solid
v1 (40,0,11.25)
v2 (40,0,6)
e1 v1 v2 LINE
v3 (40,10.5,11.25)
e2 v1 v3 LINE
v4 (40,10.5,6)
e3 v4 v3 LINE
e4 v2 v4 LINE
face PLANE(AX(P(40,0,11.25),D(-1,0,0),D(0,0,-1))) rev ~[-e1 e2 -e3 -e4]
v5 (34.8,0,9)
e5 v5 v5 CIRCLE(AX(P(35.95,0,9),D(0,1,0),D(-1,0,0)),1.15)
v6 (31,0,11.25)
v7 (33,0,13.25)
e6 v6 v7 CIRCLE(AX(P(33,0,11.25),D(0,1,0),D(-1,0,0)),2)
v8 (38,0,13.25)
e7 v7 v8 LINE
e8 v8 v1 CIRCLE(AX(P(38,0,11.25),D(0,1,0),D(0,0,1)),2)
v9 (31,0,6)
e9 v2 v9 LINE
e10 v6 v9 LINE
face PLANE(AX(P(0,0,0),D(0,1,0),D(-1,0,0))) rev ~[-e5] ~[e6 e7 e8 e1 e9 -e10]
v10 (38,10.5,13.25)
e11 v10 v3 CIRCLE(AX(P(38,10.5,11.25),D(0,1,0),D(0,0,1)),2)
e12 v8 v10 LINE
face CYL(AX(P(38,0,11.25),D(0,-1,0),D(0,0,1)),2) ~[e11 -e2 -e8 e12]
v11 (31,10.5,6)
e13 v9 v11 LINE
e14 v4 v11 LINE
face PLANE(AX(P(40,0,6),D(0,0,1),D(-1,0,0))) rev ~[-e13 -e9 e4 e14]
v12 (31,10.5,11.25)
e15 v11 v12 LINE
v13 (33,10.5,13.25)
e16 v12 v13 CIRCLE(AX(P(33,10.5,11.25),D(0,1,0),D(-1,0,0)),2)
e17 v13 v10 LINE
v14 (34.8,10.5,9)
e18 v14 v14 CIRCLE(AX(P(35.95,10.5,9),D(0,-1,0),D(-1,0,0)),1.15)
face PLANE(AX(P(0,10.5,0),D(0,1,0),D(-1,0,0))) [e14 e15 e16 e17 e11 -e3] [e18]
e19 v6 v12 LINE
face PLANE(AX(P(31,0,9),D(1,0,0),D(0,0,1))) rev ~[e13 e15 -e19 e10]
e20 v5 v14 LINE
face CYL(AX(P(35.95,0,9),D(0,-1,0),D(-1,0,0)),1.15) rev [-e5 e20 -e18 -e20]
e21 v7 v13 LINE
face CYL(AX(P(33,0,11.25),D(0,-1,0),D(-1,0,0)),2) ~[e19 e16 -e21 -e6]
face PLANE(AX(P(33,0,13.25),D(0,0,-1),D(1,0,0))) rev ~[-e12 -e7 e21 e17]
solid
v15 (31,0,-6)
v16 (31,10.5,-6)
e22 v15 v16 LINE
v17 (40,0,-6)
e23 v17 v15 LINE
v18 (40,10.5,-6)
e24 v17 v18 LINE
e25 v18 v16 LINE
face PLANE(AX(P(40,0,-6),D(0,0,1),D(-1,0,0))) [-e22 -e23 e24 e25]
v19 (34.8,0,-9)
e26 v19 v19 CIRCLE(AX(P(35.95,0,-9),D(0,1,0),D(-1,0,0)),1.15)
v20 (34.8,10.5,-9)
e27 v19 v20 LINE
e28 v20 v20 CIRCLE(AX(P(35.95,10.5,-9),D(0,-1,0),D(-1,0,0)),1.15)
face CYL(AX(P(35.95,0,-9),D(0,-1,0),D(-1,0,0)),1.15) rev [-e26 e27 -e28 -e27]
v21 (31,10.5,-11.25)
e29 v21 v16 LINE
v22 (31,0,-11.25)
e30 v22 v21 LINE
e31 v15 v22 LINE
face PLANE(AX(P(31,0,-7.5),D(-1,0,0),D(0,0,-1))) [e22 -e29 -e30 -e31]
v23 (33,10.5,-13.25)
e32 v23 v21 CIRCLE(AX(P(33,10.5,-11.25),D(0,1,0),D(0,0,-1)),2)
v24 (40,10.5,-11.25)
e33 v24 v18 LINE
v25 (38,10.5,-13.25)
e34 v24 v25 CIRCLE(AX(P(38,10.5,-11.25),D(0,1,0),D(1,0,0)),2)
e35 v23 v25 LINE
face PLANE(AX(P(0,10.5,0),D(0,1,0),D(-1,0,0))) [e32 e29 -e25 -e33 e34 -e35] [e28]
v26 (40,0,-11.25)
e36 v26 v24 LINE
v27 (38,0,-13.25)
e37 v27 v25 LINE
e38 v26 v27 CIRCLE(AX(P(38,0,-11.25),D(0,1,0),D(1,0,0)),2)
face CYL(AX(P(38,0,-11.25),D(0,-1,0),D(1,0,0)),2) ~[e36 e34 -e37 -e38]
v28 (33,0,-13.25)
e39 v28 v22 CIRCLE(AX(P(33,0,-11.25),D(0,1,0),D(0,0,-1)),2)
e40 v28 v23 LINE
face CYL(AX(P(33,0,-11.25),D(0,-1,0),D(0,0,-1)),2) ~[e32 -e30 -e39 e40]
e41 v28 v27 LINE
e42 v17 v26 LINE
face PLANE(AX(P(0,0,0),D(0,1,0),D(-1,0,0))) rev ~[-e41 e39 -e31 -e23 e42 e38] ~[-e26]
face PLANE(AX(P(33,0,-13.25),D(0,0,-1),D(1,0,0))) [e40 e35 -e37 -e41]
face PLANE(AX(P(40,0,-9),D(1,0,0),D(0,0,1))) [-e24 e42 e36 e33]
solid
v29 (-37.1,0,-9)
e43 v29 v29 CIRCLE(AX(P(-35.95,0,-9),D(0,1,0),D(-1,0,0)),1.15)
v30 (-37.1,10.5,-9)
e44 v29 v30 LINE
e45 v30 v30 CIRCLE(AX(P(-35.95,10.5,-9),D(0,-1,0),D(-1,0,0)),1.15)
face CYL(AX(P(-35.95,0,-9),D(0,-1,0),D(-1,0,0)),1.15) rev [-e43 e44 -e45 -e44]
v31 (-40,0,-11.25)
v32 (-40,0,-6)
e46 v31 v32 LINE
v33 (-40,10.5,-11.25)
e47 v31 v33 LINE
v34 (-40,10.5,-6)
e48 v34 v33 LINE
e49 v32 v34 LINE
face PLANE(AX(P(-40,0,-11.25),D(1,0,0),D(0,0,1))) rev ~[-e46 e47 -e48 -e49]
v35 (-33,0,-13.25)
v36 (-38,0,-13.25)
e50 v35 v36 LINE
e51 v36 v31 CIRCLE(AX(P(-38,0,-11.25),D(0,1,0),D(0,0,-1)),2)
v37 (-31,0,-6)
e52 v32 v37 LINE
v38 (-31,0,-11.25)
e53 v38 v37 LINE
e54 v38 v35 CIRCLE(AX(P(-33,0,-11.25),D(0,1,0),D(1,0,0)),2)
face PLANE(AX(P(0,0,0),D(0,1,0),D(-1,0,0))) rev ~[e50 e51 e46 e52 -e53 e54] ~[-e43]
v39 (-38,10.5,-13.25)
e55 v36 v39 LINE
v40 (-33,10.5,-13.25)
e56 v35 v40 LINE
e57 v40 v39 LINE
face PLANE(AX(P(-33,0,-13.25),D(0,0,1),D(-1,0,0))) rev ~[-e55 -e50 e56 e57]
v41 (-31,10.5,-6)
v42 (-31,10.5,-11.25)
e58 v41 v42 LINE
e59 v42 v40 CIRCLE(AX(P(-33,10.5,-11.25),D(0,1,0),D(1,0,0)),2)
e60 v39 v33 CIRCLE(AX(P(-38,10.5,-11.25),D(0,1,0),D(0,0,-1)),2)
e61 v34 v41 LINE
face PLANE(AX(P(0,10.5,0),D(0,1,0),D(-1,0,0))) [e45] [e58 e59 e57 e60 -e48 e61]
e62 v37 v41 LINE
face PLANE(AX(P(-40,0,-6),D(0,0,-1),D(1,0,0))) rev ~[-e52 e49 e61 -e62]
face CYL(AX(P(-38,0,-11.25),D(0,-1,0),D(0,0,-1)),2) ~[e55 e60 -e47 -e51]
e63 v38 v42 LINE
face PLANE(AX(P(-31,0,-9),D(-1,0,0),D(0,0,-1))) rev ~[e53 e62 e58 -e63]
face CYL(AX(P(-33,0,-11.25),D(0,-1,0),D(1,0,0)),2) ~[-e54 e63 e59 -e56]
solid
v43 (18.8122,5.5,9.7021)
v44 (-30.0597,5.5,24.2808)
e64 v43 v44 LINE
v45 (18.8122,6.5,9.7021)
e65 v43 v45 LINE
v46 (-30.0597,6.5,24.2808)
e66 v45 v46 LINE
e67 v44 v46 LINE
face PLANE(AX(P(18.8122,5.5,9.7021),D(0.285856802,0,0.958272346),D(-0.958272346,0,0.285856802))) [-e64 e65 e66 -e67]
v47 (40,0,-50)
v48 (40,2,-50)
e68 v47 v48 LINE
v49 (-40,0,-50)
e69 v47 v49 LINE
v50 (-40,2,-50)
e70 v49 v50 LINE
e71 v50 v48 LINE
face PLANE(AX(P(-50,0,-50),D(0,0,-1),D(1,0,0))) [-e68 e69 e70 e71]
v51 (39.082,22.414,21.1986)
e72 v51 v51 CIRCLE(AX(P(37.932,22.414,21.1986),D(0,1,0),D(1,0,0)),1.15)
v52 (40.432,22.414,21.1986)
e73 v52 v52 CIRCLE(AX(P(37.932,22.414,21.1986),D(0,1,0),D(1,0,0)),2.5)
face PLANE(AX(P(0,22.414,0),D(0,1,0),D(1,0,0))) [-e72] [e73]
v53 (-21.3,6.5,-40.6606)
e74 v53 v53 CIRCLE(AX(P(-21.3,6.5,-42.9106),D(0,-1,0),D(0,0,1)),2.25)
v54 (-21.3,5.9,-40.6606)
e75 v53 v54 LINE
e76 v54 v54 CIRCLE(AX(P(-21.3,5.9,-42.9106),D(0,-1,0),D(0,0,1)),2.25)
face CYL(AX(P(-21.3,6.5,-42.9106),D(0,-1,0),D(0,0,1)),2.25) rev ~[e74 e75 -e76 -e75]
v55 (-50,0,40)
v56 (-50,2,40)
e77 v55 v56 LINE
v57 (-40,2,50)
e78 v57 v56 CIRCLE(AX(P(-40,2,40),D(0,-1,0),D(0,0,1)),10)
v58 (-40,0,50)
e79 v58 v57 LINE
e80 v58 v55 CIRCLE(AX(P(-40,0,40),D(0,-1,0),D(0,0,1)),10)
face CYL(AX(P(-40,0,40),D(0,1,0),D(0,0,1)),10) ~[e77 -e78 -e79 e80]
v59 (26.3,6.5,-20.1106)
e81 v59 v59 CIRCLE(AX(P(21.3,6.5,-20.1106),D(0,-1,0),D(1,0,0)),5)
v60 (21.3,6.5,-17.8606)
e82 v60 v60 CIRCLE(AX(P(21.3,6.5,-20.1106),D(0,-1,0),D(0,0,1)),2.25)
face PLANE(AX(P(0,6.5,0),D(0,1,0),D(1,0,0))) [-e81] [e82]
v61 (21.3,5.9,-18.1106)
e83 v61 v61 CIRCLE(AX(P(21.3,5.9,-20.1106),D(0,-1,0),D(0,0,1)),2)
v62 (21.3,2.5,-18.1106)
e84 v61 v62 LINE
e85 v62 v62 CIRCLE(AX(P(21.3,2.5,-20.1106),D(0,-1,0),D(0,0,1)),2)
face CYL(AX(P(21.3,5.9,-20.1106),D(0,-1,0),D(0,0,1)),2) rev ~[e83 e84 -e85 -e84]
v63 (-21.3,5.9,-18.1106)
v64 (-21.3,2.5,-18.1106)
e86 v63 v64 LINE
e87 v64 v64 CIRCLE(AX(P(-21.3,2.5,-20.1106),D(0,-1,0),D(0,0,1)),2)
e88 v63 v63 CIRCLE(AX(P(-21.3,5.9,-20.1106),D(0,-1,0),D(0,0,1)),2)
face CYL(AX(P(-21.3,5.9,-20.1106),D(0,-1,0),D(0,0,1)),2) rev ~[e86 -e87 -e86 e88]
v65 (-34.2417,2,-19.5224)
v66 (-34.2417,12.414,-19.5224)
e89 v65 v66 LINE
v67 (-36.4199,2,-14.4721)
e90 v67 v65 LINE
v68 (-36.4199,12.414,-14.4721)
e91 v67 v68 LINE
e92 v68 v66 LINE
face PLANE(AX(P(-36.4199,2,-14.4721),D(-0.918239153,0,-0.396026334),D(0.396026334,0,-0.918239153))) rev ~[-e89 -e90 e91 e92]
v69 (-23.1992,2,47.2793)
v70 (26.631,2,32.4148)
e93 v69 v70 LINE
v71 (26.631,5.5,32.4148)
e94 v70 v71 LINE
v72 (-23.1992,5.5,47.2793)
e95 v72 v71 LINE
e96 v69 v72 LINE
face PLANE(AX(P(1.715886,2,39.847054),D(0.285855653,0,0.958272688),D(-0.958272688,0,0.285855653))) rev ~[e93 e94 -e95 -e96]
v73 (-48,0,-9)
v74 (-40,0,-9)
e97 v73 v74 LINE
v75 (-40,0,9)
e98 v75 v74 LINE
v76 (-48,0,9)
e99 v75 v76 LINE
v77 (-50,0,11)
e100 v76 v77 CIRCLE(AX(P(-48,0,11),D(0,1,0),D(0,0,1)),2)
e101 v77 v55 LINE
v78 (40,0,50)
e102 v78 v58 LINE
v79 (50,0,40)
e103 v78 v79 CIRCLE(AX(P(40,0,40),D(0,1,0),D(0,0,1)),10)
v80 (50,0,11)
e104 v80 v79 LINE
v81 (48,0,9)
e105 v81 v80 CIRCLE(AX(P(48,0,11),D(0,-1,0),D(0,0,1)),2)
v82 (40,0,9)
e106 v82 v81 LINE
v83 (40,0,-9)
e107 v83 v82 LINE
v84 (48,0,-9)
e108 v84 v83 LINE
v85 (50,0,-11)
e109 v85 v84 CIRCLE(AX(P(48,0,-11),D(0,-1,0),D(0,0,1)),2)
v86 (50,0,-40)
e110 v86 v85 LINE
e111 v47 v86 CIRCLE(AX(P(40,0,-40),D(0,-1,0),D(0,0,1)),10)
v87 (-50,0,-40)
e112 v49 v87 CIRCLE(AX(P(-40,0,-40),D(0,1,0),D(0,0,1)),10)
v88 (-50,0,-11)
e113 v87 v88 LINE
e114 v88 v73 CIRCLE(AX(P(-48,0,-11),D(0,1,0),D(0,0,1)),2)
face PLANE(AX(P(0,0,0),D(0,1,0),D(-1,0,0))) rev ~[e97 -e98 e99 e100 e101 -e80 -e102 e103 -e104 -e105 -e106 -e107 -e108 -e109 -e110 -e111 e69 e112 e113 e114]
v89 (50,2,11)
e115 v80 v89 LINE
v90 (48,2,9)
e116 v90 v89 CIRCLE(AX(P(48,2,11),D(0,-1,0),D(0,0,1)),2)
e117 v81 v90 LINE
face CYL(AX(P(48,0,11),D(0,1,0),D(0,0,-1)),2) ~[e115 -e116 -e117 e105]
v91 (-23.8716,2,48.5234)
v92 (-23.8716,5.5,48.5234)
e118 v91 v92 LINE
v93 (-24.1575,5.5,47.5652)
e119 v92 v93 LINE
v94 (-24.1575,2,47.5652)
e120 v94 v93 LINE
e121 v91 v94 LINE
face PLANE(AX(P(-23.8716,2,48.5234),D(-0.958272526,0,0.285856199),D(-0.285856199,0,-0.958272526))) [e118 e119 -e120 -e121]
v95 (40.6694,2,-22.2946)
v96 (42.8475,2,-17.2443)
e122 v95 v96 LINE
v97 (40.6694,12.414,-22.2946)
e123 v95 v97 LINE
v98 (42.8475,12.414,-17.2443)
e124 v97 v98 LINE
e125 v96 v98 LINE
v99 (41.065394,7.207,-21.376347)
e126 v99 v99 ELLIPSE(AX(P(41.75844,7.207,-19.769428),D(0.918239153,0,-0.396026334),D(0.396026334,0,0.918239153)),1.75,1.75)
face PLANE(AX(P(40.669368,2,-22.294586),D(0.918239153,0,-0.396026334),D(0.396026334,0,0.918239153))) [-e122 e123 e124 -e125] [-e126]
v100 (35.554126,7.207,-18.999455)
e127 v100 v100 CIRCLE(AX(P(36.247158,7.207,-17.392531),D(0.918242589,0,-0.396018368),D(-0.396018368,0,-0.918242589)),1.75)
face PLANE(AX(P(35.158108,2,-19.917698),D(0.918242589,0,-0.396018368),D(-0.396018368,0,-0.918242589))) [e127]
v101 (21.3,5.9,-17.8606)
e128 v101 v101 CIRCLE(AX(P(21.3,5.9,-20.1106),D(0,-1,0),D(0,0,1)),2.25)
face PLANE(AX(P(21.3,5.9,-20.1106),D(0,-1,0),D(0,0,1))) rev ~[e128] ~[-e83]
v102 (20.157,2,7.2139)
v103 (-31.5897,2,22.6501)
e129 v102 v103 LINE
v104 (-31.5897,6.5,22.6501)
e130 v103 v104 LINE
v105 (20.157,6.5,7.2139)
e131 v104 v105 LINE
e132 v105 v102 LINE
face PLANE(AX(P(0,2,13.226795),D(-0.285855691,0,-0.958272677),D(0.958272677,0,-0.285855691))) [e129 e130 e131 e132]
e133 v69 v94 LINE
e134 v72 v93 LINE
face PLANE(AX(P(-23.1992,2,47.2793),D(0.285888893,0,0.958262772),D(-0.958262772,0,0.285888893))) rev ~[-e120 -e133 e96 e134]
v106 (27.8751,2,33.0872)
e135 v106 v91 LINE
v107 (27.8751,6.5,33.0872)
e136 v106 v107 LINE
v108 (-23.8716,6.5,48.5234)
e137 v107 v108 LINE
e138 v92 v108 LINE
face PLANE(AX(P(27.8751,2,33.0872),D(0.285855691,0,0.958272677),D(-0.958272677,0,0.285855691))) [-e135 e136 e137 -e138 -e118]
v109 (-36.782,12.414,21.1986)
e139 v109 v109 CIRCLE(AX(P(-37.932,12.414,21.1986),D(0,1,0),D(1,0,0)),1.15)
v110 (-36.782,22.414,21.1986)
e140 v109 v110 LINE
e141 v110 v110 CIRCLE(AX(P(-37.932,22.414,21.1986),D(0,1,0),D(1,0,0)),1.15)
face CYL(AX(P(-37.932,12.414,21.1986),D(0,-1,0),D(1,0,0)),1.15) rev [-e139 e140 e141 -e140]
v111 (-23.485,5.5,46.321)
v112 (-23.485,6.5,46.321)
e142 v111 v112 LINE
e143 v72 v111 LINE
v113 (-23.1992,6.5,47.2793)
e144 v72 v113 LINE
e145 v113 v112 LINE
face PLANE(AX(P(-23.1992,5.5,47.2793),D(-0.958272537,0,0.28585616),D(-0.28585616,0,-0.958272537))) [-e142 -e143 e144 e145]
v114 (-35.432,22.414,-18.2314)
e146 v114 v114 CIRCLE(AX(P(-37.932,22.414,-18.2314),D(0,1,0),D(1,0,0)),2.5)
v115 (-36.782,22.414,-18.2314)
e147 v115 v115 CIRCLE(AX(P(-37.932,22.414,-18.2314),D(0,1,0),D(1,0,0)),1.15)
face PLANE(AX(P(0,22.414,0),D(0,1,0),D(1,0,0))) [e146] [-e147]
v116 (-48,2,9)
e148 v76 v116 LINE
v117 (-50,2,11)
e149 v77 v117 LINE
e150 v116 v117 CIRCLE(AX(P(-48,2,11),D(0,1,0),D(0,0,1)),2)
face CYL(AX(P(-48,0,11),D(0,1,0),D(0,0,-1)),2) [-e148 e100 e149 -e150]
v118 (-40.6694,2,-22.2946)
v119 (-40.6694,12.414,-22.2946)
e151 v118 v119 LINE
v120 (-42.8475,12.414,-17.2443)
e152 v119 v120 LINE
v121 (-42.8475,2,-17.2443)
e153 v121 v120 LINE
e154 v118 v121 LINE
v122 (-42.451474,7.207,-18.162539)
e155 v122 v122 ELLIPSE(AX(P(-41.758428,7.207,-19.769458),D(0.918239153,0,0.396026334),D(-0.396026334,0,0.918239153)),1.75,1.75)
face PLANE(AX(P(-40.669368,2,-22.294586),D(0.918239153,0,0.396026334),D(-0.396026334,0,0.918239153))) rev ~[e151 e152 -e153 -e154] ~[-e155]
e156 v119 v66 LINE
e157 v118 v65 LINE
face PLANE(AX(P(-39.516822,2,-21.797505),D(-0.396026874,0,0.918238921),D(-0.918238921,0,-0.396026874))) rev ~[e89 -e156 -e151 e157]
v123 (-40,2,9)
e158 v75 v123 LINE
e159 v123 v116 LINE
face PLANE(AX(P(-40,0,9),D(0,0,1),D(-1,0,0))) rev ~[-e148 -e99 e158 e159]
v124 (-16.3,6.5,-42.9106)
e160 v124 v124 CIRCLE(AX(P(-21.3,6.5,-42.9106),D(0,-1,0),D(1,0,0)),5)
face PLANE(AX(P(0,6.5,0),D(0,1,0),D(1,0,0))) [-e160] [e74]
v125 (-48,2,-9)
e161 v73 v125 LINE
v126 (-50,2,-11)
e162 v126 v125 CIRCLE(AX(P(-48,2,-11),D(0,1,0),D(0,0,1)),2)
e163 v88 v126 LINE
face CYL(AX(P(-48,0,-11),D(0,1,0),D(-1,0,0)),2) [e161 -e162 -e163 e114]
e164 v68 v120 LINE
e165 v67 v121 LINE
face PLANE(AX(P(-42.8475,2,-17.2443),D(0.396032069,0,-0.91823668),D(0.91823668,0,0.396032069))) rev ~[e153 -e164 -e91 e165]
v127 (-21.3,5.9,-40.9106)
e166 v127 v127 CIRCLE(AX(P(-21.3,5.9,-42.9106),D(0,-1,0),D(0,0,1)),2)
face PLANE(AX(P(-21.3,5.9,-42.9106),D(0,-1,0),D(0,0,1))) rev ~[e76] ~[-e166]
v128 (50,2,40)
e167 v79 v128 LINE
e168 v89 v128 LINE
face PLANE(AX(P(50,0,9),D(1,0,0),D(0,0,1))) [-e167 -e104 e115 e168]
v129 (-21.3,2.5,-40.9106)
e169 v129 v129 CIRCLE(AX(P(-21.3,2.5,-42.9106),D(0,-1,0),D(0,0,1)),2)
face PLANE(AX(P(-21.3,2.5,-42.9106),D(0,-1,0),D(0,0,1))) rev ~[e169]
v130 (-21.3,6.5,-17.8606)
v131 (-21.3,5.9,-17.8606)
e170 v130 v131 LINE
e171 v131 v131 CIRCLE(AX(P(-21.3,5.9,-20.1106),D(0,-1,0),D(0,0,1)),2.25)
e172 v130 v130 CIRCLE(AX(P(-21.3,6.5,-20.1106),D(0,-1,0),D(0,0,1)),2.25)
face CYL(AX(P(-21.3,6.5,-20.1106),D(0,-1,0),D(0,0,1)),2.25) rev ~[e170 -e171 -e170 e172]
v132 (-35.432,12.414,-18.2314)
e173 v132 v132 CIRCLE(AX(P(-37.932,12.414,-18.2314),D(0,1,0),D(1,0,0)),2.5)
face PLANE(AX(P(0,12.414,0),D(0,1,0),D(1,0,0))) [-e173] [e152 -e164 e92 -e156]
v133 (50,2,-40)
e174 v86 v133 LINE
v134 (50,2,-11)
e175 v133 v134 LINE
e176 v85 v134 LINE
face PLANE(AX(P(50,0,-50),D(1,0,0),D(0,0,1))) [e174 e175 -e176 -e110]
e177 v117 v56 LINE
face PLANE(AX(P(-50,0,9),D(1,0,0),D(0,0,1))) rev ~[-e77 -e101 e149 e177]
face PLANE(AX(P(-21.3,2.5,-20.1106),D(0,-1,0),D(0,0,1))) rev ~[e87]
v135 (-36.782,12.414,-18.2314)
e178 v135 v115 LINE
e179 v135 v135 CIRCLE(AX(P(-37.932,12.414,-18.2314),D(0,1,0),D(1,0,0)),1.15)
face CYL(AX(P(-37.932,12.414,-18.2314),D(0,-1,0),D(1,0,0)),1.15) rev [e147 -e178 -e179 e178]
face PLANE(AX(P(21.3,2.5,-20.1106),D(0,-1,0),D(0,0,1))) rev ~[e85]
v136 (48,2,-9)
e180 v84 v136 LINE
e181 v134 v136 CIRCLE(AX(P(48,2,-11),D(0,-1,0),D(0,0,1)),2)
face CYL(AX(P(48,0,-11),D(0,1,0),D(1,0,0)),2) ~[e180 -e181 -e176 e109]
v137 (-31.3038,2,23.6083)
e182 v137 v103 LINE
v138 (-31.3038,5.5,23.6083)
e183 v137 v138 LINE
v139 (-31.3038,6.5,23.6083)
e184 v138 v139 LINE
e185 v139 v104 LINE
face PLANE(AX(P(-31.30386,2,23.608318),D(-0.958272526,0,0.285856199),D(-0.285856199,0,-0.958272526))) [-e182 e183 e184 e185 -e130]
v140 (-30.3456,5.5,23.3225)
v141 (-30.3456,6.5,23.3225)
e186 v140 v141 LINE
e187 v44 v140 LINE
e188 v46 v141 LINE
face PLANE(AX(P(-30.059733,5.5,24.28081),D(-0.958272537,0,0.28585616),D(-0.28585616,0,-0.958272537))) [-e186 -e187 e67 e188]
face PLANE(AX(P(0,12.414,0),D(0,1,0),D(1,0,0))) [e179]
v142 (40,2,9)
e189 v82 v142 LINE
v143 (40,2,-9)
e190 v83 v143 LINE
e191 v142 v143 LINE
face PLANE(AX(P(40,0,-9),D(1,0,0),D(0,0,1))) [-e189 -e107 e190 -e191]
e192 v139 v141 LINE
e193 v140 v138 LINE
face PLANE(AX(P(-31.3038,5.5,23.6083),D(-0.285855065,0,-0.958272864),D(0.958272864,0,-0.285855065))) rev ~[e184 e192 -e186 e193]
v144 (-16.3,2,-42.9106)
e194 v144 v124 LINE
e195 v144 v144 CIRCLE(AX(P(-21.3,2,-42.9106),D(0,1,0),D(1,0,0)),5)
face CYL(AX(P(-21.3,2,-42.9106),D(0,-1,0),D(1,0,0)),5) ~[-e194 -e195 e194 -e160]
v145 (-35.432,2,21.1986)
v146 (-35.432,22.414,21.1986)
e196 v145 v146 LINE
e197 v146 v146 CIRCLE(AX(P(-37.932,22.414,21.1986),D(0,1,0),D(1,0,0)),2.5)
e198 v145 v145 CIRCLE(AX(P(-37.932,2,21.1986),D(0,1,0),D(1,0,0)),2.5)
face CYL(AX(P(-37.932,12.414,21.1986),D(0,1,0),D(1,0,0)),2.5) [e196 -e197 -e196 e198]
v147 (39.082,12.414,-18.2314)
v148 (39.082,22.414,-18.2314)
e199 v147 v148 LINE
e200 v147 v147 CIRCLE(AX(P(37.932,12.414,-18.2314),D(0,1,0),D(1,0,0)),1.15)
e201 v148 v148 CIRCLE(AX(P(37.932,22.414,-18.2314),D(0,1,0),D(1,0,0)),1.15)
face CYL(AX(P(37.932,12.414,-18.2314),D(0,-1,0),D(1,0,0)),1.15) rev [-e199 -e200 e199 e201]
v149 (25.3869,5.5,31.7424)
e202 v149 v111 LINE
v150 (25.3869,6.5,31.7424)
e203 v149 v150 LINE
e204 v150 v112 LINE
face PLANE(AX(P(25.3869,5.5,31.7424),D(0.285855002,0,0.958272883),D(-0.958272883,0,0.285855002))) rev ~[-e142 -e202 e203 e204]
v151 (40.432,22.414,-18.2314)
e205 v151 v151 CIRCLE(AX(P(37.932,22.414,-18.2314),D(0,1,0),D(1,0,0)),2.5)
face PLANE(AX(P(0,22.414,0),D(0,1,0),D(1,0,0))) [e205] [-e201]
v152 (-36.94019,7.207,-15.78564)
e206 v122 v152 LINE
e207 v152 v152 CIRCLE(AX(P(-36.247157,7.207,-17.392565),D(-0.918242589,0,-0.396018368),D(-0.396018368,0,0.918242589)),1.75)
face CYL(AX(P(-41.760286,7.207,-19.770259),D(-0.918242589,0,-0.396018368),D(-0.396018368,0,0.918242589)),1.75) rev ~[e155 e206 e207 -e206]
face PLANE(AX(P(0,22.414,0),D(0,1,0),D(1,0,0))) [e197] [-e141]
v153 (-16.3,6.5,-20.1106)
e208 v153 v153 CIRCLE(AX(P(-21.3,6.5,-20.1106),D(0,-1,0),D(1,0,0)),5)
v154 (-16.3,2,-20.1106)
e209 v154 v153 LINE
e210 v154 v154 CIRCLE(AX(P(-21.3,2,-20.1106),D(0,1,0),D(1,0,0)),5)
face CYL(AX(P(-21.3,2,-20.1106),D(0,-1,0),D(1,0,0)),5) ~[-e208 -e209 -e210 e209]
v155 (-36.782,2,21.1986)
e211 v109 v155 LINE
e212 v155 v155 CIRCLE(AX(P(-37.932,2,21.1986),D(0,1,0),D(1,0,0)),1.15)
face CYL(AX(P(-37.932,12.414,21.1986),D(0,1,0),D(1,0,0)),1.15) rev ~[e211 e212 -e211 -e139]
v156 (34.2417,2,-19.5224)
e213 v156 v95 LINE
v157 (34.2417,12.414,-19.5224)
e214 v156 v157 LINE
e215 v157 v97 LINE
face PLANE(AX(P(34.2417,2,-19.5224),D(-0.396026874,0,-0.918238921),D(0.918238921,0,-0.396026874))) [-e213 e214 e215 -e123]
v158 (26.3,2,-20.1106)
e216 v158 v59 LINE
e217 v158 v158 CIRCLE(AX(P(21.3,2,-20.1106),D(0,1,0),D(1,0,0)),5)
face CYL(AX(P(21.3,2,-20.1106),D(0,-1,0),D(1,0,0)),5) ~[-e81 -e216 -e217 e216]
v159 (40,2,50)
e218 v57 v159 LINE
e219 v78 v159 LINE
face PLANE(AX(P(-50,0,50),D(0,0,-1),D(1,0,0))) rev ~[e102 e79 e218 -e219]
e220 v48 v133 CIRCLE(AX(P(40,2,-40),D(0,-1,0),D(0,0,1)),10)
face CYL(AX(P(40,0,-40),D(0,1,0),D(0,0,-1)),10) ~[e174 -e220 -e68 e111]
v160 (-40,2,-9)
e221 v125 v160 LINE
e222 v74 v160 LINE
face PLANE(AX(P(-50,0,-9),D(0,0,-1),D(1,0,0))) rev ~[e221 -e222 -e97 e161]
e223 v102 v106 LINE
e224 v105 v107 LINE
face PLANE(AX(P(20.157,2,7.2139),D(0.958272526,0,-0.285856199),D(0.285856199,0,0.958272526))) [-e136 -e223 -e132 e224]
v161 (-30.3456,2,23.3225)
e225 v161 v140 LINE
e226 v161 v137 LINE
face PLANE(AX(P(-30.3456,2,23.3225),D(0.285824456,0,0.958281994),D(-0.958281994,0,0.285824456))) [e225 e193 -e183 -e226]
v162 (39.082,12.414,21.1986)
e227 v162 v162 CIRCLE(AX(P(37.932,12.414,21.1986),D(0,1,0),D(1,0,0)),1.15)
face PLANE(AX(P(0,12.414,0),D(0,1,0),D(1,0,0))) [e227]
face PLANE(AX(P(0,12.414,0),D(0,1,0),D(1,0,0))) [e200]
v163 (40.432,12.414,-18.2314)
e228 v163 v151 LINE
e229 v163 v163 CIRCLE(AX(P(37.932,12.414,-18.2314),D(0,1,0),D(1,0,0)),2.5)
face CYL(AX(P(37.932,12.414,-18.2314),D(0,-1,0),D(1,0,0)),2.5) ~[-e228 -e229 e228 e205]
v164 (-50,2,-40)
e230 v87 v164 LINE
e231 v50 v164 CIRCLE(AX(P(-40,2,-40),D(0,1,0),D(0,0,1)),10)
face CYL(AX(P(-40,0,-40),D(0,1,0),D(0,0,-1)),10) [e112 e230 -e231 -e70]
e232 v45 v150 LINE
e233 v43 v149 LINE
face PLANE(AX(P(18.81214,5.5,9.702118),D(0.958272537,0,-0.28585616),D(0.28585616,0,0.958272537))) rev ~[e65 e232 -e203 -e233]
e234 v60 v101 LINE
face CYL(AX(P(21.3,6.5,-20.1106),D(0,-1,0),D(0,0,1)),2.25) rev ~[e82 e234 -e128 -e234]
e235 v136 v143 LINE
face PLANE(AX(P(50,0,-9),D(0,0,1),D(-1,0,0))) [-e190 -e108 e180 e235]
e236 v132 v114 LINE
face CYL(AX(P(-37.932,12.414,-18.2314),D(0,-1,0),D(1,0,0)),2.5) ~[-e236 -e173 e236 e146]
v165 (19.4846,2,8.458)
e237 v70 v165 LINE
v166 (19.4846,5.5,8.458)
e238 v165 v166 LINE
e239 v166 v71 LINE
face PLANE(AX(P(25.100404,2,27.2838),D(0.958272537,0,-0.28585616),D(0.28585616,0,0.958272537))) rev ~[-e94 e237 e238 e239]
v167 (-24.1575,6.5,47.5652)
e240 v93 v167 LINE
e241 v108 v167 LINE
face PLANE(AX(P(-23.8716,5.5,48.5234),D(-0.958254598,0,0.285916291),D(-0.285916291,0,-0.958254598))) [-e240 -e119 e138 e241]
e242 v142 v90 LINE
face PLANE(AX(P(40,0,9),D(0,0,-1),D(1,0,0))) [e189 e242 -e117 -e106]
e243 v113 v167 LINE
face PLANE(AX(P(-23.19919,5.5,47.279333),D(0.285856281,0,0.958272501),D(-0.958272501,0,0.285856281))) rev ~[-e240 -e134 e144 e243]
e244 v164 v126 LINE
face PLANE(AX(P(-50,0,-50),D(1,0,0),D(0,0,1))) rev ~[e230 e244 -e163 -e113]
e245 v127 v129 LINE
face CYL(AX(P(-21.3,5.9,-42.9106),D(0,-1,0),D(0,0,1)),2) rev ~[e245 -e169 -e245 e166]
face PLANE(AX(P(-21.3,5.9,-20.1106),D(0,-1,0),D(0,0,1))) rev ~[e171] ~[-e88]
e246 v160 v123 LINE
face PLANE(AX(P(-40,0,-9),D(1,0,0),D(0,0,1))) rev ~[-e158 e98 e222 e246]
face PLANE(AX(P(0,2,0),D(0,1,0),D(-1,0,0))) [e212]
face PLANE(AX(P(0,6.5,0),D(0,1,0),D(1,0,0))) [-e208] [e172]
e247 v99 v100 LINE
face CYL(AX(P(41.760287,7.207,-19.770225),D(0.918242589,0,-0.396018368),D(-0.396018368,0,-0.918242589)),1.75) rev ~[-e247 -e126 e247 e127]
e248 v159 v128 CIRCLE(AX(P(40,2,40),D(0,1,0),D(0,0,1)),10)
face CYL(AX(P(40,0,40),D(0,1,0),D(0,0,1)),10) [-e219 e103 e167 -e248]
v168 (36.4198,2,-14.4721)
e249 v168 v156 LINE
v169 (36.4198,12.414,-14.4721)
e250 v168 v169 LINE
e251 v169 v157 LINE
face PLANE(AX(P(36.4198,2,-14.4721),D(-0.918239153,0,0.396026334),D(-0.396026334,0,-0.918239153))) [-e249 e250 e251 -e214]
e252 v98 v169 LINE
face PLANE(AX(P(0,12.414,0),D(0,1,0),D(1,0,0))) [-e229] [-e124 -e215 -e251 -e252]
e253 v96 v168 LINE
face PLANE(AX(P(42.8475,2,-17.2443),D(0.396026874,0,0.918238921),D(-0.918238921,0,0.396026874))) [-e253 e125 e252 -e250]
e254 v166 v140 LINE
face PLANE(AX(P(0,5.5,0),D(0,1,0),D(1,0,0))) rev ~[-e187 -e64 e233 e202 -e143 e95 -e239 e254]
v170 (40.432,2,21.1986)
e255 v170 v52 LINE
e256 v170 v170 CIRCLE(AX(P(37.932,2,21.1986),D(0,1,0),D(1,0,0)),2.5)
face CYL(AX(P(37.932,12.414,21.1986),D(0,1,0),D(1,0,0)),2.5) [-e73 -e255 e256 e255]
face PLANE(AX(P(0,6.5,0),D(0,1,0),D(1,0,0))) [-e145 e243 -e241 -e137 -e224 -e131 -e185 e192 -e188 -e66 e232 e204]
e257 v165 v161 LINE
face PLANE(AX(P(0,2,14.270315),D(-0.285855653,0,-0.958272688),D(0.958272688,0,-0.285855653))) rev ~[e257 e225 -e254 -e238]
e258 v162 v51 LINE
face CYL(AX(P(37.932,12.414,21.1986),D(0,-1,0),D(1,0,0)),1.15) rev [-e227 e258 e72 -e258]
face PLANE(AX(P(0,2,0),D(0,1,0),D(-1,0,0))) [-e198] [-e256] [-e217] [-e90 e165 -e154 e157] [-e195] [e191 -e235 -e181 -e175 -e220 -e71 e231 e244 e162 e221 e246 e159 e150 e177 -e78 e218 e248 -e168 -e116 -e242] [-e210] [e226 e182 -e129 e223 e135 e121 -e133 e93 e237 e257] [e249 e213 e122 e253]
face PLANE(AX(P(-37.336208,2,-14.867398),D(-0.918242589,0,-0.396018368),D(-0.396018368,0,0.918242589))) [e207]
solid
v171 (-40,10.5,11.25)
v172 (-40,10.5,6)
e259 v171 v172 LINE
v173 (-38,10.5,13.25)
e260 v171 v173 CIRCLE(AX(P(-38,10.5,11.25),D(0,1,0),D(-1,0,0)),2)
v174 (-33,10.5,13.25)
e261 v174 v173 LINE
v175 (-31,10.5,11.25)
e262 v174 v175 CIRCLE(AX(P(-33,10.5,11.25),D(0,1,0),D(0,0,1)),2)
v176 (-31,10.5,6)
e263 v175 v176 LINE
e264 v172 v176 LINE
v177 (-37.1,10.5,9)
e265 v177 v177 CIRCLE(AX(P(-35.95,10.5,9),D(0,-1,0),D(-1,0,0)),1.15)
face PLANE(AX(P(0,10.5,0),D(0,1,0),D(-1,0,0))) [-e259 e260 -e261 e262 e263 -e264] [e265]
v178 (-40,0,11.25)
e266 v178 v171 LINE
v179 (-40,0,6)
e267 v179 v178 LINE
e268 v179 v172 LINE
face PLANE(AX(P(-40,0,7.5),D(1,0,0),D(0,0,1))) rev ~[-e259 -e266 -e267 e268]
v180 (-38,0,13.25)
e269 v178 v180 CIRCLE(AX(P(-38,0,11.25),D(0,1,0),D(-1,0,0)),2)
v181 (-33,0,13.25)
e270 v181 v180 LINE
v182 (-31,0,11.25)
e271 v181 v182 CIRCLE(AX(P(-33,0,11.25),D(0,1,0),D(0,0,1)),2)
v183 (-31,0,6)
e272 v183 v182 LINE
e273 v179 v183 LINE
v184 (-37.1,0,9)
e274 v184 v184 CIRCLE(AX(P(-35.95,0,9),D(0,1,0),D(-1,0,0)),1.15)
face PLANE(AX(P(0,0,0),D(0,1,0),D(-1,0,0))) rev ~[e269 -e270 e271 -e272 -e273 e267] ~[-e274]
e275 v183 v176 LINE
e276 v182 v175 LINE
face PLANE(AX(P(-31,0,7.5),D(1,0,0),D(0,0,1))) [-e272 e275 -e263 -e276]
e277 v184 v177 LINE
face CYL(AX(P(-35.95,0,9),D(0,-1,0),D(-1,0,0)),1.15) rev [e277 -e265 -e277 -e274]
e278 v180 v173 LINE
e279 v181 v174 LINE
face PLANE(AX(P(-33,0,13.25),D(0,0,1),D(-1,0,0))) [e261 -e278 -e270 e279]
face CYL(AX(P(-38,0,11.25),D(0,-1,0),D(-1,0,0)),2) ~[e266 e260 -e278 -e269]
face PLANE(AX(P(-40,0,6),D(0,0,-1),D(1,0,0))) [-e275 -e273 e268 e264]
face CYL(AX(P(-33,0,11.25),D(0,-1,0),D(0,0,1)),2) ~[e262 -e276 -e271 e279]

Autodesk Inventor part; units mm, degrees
ref_plane "YZ Plane" through (0, 0, 0) normal (1, 0, 0) x (0, 1, 0)
ref_plane "XZ Plane" through (0, 0, 0) normal (0, 1, 0) x (-1, 0, 0)
ref_plane "XY Plane" through (0, 0, 0) normal (0, 0, 1) x (1, 0, 0)
sketch "Szkic2" plane through (0, 0, 0) normal (0, 1, 0) x (-1, 0, 0)
  line L0 (50, -50) -> (-50, -50)
  line L1 (50, -50) -> (50, 50)
  line L2 (0, -53.6442) -> (0, 78.3558)
  line L3 (50, 50) -> (-50, 50)
  line L4 (-50, -50) -> (-50, 50)
  line L5 (67.5466, 0) -> (-74.1589, 0)
  line L6 (50, -9) -> (40, -9)
  line L7 (40, -9) -> (40, 9)
  line L8 (40, 9) -> (50, 9)
  line L9 (50, 9) -> (50, -9)
  line L10 (-50, -9) -> (-40, -9)
  line L11 (-40, -9) -> (-40, 9)
  line L12 (-40, 9) -> (-50, 9)
  line L13 (-50, 9) -> (-50, -9)
  line L14 (40, -7.5) -> (31, -7.5)
  line L15 (31, -7.5) -> (31, 7.5)
  line L16 (31, 7.5) -> (40, 7.5)
  line L17 (40, 7.5) -> (40, -7.5)
  line L18 (-40, -7.5) -> (-28.5, -7.5)
  line L19 (-28.5, -7.5) -> (-28.5, 7.5)
  line L20 (-28.5, 7.5) -> (-40, 7.5)
  line L21 (-40, 7.5) -> (-40, -7.5)
  line L22 (31.5, 9) -> (-31.5, 9)
  line L23 (31, 7.5) -> (31, 9)
  line L24 (-28.5, 7.5) -> (-28.5, 9)
  line L25 (31.5, -9) -> (-31.5, -9)
  line L26 (-28.5, -7.5) -> (-28.5, -9)
  line L27 (31, -7.5) -> (31, -9)
  line L28 (40, -11.25) -> (40, -9)
  line L29 (40, 11.25) -> (40, 9)
  line L30 (-40, -11.25) -> (-40, -9)
  line L31 (-40, 11.25) -> (-40, 9)
  circle A0 centre (35.95, -9) radius 1.15
  line L32 (40, -9) -> (40, -7.5)
  line L33 (-40, -9) -> (-40, -7.5)
  line L34 (40, 9) -> (40, 7.5)
  line L35 (-40, 9) -> (-40, 7.5)
  line L36 (40, -9) -> (40, -9)
  line L37 (40, 9) -> (40, 9)
  line L38 (-40, -9) -> (-40, -9)
  line L39 (-40, 9) -> (-40, 9)
  circle A1 centre (35.95, 9) radius 1.15
  circle A2 centre (-35.95, -9) radius 1.15
  circle A3 centre (-35.95, 9) radius 1.15
  line L40 (37.1, -9) -> (37.1, -7.5)
  line L41 (34.8, -9) -> (34.8, -7.5)
  line L42 (40, -14.25) -> (40, -13.75)
  line L43 (37.1, 9) -> (37.1, 7.5)
  line L44 (34.8, 9) -> (34.8, 7.5)
  line L45 (31, 5.5681) -> (31, 11.25)
  line L46 (33, 13.25) -> (38, 13.25)
  line L47 (40, 14.25) -> (40, 13.75)
  circle A4 centre (-35.95, -9) radius 1.15
  line L48 (-37.1, -9) -> (-37.1, -7.5)
  line L49 (-34.8, -9) -> (-34.8, -7.5)
  circle A5 centre (-35.95, 9) radius 1.15
  line L50 (-37.1, 9) -> (-37.1, 7.5)
  line L51 (-34.8, 9) -> (-34.8, 7.5)
  line L52 (-40, -14.25) -> (-40, -13.75)
  line L53 (-31, 9) -> (-31, 11.25)
  line L54 (-40, 14.25) -> (-40, 14.75)
  line L55 (50, -50) -> (50, 50)
  line L56 (50, -50) -> (-50, -50)
  line L57 (50, -9) -> (40, -9)
  line L58 (40, 9) -> (50, 9)
  line L59 (40, 7.5) -> (40, -7.5)
  line L60 (50, -50) -> (-50, -50)
  line L61 (-40, 0) -> (-9.8, 0)
  line L62 (-9.7869, 9) -> (-9.7869, -9)
  line L63 (9.7869, 9) -> (9.7869, -9)
  line L64 (40, -6) -> (31, -6)
  line L65 (40, 6) -> (31, 6)
  line L66 (40, -13.75) -> (40, -9)
  line L67 (31, -5.5681) -> (31, -11.25)
  line L68 (33, -13.25) -> (38, -13.25)
  line L69 (-40, -7.5) -> (-31, -7.5)
  line L70 (-31, 7.5) -> (-40, 7.5)
  circle A6 centre (-35.95, -9) radius 1.15
  circle A7 centre (-35.95, 9) radius 1.15
  line L71 (-37.1, -9) -> (-37.1, -7.5)
  line L72 (-34.8, -9) -> (-34.8, -7.5)
  line L73 (-37.1, 9) -> (-37.1, 7.5)
  line L74 (-34.8, 9) -> (-34.8, 7.5)
  line L75 (-31, 5.5681) -> (-31, 13.25)
  line L76 (-33, 13.25) -> (-38, 13.25)
  line L77 (-40, -6) -> (-31, -6)
  line L78 (-33, -13.25) -> (-38, -13.25)
  line L79 (-31, -5.5681) -> (-31, -11.25)
  arc A8 (38, -13.25) -> (40, -11.25) centre (38, -11.25) ccw
  arc A9 (31, -11.25) -> (33, -13.25) centre (33, -11.25) ccw
  arc A10 (40, 11.25) -> (38, 13.25) centre (38, 11.25) ccw
  arc A11 (33, 13.25) -> (31, 11.25) centre (33, 11.25) ccw
  arc A12 (-31, 11.25) -> (-33, 13.25) centre (-33, 11.25) ccw
  arc A13 (-38, 13.25) -> (-40, 11.25) centre (-38, 11.25) ccw
  arc A14 (-40, -11.25) -> (-38, -13.25) centre (-38, -11.25) ccw
  arc A15 (-33, -13.25) -> (-31, -11.25) centre (-33, -11.25) ccw
  line L80 (-40, 6) -> (-31, 6)
  point P0 (0, 0)
  point P1 (-50, 9)
  point P2 (-34.25, -7.5)
  point P3 (27.1, -10.7133)
  point P4 (31.5, -9)
  point P5 (31.5, -9)
  point P6 (-31.5, 9)
  point P7 (-31.5, 9)
  point P8 (27.1, 10.7133)
  point P9 (40, 7.5)
  point P10 (31, 13.25)
  point P11 (40.0775, 13.25)
  point P12 (-31, -9)
  point P13 (-31, -14.25)
  point P14 (-31, 15.2922)
  point P15 (-34.8, 9)
  point P16 (-37.1, 9)
  point P17 (-37.1, 7.5)
  point P18 (-34.8, 7.5)
  point P19 (-31, 9)
  point P20 (-37.1, -9)
  point P21 (-34.8, -9)
  point P22 (-34.8, -7.5)
  point P23 (-37.1, -7.5)
  point P24 (37.1, 9)
  point P25 (34.8, 9)
  point P26 (34.8, 7.5)
  point P27 (37.1, 7.5)
  point P28 (31, 9)
  point P29 (-50, 0)
  point P30 (31, -13.25)
  point P31 (40.0775, -13.25)
  point P32 (-40.0775, 13.25)
  point P33 (-31, -13.25)
  point P34 (-40.0775, -13.25)
  dimension "d30" = 100
  dimension "d31" = 132
  dimension "d32" = 18
  dimension "d33" = 10
  dimension "d38" = 9
  dimension "d39" = 15
  dimension "d40" = 15
  dimension "d41" = 11.5
  dimension "d42" = 10
  dimension "d44" = 15
  dimension "d47" = 0
  dimension "d50" = 2.3
  dimension "d59" = 2.9
  dimension "d62" = 0.5
  dimension "d68" = 100
  dimension "d69" = 50
  dimension "d70" = 30.2
  dimension "d71" = 1.5
  dimension "d73" = 5.75
  dimension "d74" = 2
extrude "Wyciągnięcie proste3" add sketch "Szkic2" along normal blind 10.5 contours L28 A8 L68 A9 L67 L27 L14 L41 A0 L40 L7 | L14 L15 L64 L7 | L11 L18 L48 A2 L49 L79 A15 L78 A14 L30 | L7 L16 L43 A1 L44 L23 L45 A11 L46 A10 L29 | L65 L15 L16 L7 | L40 A0 L41 L14 | L11 L77 L79 L18 | L31 A13 L76 A12 L53 L75 L20 L51 A3 L50 L11 | L11 L20 L75 L80 | L18 L49 A2 L48 | L16 L44 A1 L43 | L50 A3 L51 L20
extrude "Wyciągnięcie proste4" add sketch "Szkic2" along normal blind 2 separate body contours L0 L2 L25 L67 A9 L68 A8 L28 L6 L1 | L0 L4 L10 L30 A14 L78 A15 L79 L25 L2 | L25 L62 L5 L2 | L2 L5 L63 L25 | L28 A8 L68 A9 L67 L27 L14 L41 A0 L40 L7 | L5 L62 L22 L2 | L2 L22 L63 L5 | L63 L5 L15 L27 L25 | L25 L26 L19 L5 L62 | L8 L29 A10 L46 A11 L45 L22 L2 L3 L1 | L7 L64 L15 L5 | L5 L15 L65 L7 | L14 L15 L64 L7 | L11 L18 L48 A2 L49 L79 A15 L78 A14 L30 | L22 L53 A12 L76 A13 L31 L12 L4 L3 L2 | L63 L22 L23 L15 L5 | L5 L19 L24 L22 L62 | L25 L79 L18 L26 | L7 L16 L43 A1 L44 L23 L45 A11 L46 A10 L29 | L65 L15 L16 L7 | L40 A0 L41 L14 | L11 L80 L75 L20 L19 L5 | L5 L19 L18 L79 L77 L11 | L11 L77 L79 L18 | A0 | L31 A13 L76 A12 L53 L75 L20 L51 A3 L50 L11 | L11 L20 L75 L80 | L18 L49 A2 L48 | L24 L20 L75 L22 | L16 L44 A1 L43 | A2 | A1 | L50 A3 L51 L20 | A3
fillet "Zaokrąglenie4" radius 10 4 edges at (-50, 1, -50) (-50, 1, 50) (50, 1, 50) (50, 1, -50)
fillet "Zaokrąglenie5" radius 2 4 edges at (50, 1, 9) (50, 1, -9) (-50, 1, 9) (-50, 1, -9)
sketch "Szkic5" plane through (0, 2, 0) normal (0, 1, 0) x (1, 0, 0)
  line L0 (24.5, 7.6836) -> (-24.5, 7.6836)
  line L1 (-24.5, 7.6836) -> (-24.5, 47.6836)
  line L2 (-24.5, 47.6836) -> (24.5, 47.6836)
  line L3 (24.5, 47.6836) -> (24.5, 7.6836)
  line L4 (0, -42.3954) -> (0, 57.9871)
  line L5 (67.9051, 0) -> (-103.5521, 0)
  circle A0 centre (-21.3, 42.9106) radius 5
  circle A1 centre (-21.3, 20.1106) radius 5
  circle A2 centre (21.3, 20.1106) radius 5
  line L6 (26.631, -32.4148) -> (-23.1992, -47.2793)
  line L7 (-23.1992, -47.2793) -> (-30.3456, -23.3225)
  line L8 (-30.3456, -23.3225) -> (19.4846, -8.458)
  line L9 (19.4846, -8.458) -> (26.631, -32.4148)
  line L10 (27.8751, -33.0872) -> (-23.8716, -48.5234)
  line L11 (-23.8716, -48.5234) -> (-31.5897, -22.6501)
  line L12 (-31.5897, -22.6501) -> (20.157, -7.2139)
  line L13 (20.157, -7.2139) -> (27.8751, -33.0872)
  line L14 (-23.1992, -47.2793) -> (-24.1575, -47.5652)
  line L15 (-30.3456, -23.3225) -> (-31.3038, -23.6083)
  line L16 (26, -27.2838) -> (-27, -27.2838)
  circle A3 centre (-21.3, 42.9106) radius 1.75
  line L17 (-5.4305, -15.8902) -> (1.7159, -39.8471)
  point P0 (0, 0)
  point P1 (0, 7.7958)
  point P2 (0, -14.2703)
  point P3 (0, -13.2268)
  point P4 (0, -41.4025)
  point P5 (0, -40.3589)
  point P6 (0, -27.2838)
  point P7 (3.6487, -26.2263)
  dimension "d75" = 40
  dimension "d76" = 49
  dimension "d78" = 10
  dimension "d79" = 10
  dimension "d86" = 52
  dimension "d87" = 25
  dimension "d88" = 26.631
  dimension "d89" = 1
  dimension "d90" = 1
  dimension "d91" = 1
  dimension "d92" = 1
  dimension "d114" = 3.5
  dimension "d115" = 22.8
  dimension "d123" = 24.5
  dimension "d124" = 42.6
extrude "Wyciągnięcie proste5" add sketch "Szkic5" along normal blind 3.5 contours L12 L13 L10 L4 L6 L9 L8 | L4 L8 L15 L11 L12 | L14 L6 L4 L10 L11 bodies 2
sketch "Szkic7" plane through (0, 5.5, 0) normal (0, 1, 0) x (1, 0, 0)
  line L0 (-31.5897, -22.6501) -> (20.157, -7.2139) projected
  line L1 (-23.8716, -48.5234) -> (-24.1575, -47.5652) projected
  line L2 (19.4846, -8.458) -> (26.631, -32.4148) projected
  line L3 (26.631, -32.4148) -> (-24.1575, -47.5652) projected
  line L4 (-31.3038, -23.6083) -> (19.4846, -8.458) projected
  line L5 (27.8751, -33.0872) -> (-23.8716, -48.5234) projected
  line L6 (20.157, -7.2139) -> (27.8751, -33.0872)
  line L7 (27.8751, -33.0872) -> (-23.8716, -48.5234)
  line L8 (-23.8716, -48.5234) -> (-31.5897, -22.6501)
  line L9 (-31.5897, -22.6501) -> (20.157, -7.2139)
  line L10 (19.4846, -8.458) -> (-31.3038, -23.6083) projected
  line L11 (26.631, -32.4148) -> (19.4846, -8.458) projected
  line L12 (19.4846, -8.458) -> (26.631, -32.4148)
  line L13 (26.631, -32.4148) -> (-23.1992, -47.2793)
  line L14 (-23.1992, -47.2793) -> (-30.3456, -23.3225)
  line L15 (-30.3456, -23.3225) -> (19.4846, -8.458)
  line L16 (18.5263, -8.7439) -> (25.6727, -32.7007)
  line L17 (18.8122, -9.7021) -> (-30.0597, -24.2808)
  line L18 (25.3869, -31.7424) -> (-23.485, -46.321)
  point P0 (0, 0)
  point P1 (22.0995, -20.7223)
  point P2 (-31.5897, -22.6501)
  point P3 (-31.3038, -23.6083)
  point P4 (-30.3456, -23.3225)
  point P5 (-23.1992, -47.2793)
  dimension "d177" = 1
  dimension "d178" = 1
  dimension "d179" = 1
extrude "Wyciągnięcie proste7" add sketch "Szkic7" along normal blind 1 contours L0 L6 L5 L1 L3 L2 L4 L8 | L4 L16 L17 L14 | L4 L2 L3 L16 | L14 L18 L16 L3 bodies 2
extrude "Wyciągnięcie proste8" add sketch "Szkic5" along normal blind 4.5 contours A2 L3 | L3 A2 | A1 L1 | L1 A1 | A0 L1 L2 | L2 A0 | A0 L1 | A3 picked at (-24.0167, 42.9106) bodies 2
sketch "Szkic8" plane through (-21.3, 6.5, -42.9106) normal (0, 1, 0) x (1, 0, 0)
  circle A0 centre (0, -22.8) radius 5 projected
  circle A1 centre (0, 0) radius 5 projected
  circle A2 centre (42.6, -22.8) radius 5 projected
  point P0 (21.3, -42.9106)
  point P1 (0, -22.8)
hole "Otwór2" at (21.3, 6.5, -20.1106) at (-21.3, 6.5, -42.9106) at (-21.3, 6.5, -20.1106) direction (0, -1, 0) diameter 4 depth 4 counterbore diameter 4.5 counterbore depth 0.6 bodies 2
sketch "Szkic10" plane through (0, 2, 0) normal (0, 1, 0) x (1, 0, 0)
  line L0 (30.6682, 45.4835) -> (39.7138, 49.3848)
  line L1 (39.7138, 49.3848) -> (48.4264, 29.1835)
  line L2 (48.4264, 29.1835) -> (39.3808, 25.2823)
  line L3 (39.3808, 25.2823) -> (30.6682, 45.4835)
  line L4 (32.1145, 46.1073) -> (30.9335, 48.8455)
  line L5 (30.9335, 48.8455) -> (29.4873, 48.2217)
  line L6 (29.4873, 48.2217) -> (30.6682, 45.4835)
  line L7 (35.191, 47.4342) -> (43.9036, 27.2329)
  line L8 (39.5473, 37.3335) -> (44.0701, 39.2842)
  line L9 (44.2937, 17.868) -> (42.8475, 17.2443)
  line L10 (39.3808, 25.2823) -> (42.8475, 17.2443)
  line L11 (44.2937, 17.868) -> (40.827, 25.906)
  line L12 (30.4882, 48.6534) -> (31.6691, 45.9152)
  line L13 (31.6691, 45.9152) -> (43.8484, 17.676)
  line L14 (0, 60.4183) -> (0, -9.1824)
  line L15 (-30.6683, 45.4835) -> (-39.7138, 49.3848)
  line L16 (-39.7138, 49.3848) -> (-48.4264, 29.1835)
  line L17 (-48.4264, 29.1835) -> (-39.3808, 25.2823)
  line L18 (-39.3808, 25.2823) -> (-30.6683, 45.4835)
  line L19 (-32.1145, 46.1073) -> (-30.9335, 48.8455)
  line L20 (-30.9335, 48.8455) -> (-29.4873, 48.2217)
  line L21 (-29.4873, 48.2217) -> (-30.6683, 45.4835)
  line L22 (-35.191, 47.4342) -> (-43.9036, 27.2329)
  line L23 (-39.5473, 37.3335) -> (-44.0701, 39.2842)
  line L24 (-39.3808, 25.2823) -> (-42.8475, 17.2443)
  line L25 (-44.2938, 17.868) -> (-40.8271, 25.906)
  line L26 (-30.4882, 48.6534) -> (-31.6691, 45.9152)
  line L27 (-31.6691, 45.9152) -> (-43.8484, 17.676)
  line L28 (-44.2938, 17.868) -> (-42.8475, 17.2443)
  line L29 (42.8475, 17.2443) -> (36.4198, 14.4721)
  line L30 (38, 13.25) -> (33, 13.25) projected
  line L31 (36.4198, 14.4721) -> (32.9531, 22.5101)
  line L32 (39.3808, 25.2823) -> (32.9531, 22.5101)
  line L33 (-42.8475, 17.2443) -> (-36.4199, 14.4721)
  line L34 (-36.4199, 14.4721) -> (-32.9532, 22.5101)
  line L35 (-39.3808, 25.2823) -> (-32.9532, 22.5101)
  line L36 (-40.1755, 16.0918) -> (-36.7088, 24.1298)
  circle A0 centre (-38.4421, 20.1108) radius 2
  line L37 (34.2417, 19.5224) -> (40.6694, 22.2946)
  line L38 (-34.2417, 19.5224) -> (-40.6694, 22.2946)
  point P0 (0, 0)
  point P1 (-40.3817, 25.714)
  point P2 (-43.8484, 17.676)
  point P3 (40.3817, 25.714)
  dimension "d134" = 9.851
  dimension "d135" = 22
  dimension "d136" = 2.982
  dimension "d138" = 1.575
  dimension "d140" = 90
  dimension "d141" = 90
  dimension "d142" = 2.982
  dimension "d145" = 1.575
  dimension "d146" = 90
  dimension "d147" = 90
  dimension "d148" = 8.038
  dimension "d149" = 1.09
  dimension "d150" = 90
  dimension "d152" = 8.038
  dimension "d153" = 90
  dimension "d155" = 7
  dimension "d159" = 4
  dimension "d171" = 5.5
extrude "Wyciągnięcie proste9" add sketch "Szkic10" along normal blind 10.414 contours L10 L29 L31 L37 | L38 A0 L36 L33 L24 | L38 L36 A0 | L36 A0 L38 L34 L33 | L36 L38 A0 picked at (-38.9603, 19.3109) picked at (-38.6641, 19.1843) bodies 2
sketch "Szkic11" plane through (0, 12.414, 0) normal (0, 1, 0) x (1, 0, 0)
  circle A0 centre (-37.932, 18.2314) radius 2.5
  line L0 (61.8383, -1.4836) -> (-74.9376, -1.4836)
  circle A1 centre (-37.932, -21.1986) radius 2.5
  line L1 (0, -60.0206) -> (0, 63.8525)
  circle A2 centre (37.932, 18.2314) radius 2.5
  circle A3 centre (37.932, -21.1986) radius 2.5
  circle A4 centre (-37.932, -21.1986) radius 1.15
  circle A5 centre (-37.932, 18.2314) radius 1.15
  circle A6 centre (37.932, -21.1986) radius 1.15
  circle A7 centre (37.932, 18.2314) radius 1.15
  circle A8 centre (37.932, 18.2314) radius 2.5
  circle A9 centre (37.932, -21.1986) radius 2.5
  point P0 (0, 0)
  dimension "d163" = 5
  dimension "d170" = 2.3
  dimension "d172" = 39.43
  dimension "d175" = 75.864
extrude "Wyciągnięcie proste11" add sketch "Szkic11" along normal blind 10 contours A0 | A2 bodies 2
extrude "Wyciągnięcie proste12" add sketch "Szkic11" along normal blind 10 and the other way blind 10.5 contours A1 | A3 bodies 2
extrude "Wyciągnięcie proste13" add sketch "Szkic11" against normal blind 10.5 contours A6 bodies 2
sketch "Szkic12" plane through (40.6694, 2, -22.2946) normal (0.9182, 0, -0.396) x (-0.396, 0, -0.9182)
  circle A0 centre (-2.75, 5.207) radius 1.75
  line L0 (0, 0) -> (-5.5, 0) projected
  point P0 (-4.3656, -2)
  dimension "d180" = 5.207
  dimension "d181" = 3.5
sketch "Szkic13" plane through (-42.8475, 2, -17.2443) normal (-0.9182, 0, -0.396) x (-0.396, 0, 0.9182)
  circle A0 centre (-2.75, 5.207) radius 1.75
  line L0 (0, 0) -> (-5.5, 0) projected
  point P0 (-1.1344, -2)
  dimension "d182" = 5.207
  dimension "d183" = 3.5
extrude "Wyciągnięcie proste14" cut sketch "Szkic12" against normal blind 6 bodies 2
extrude "Wyciągnięcie proste15" cut sketch "Szkic13" against normal blind 6 bodies 2
properties part number "heheheha"
